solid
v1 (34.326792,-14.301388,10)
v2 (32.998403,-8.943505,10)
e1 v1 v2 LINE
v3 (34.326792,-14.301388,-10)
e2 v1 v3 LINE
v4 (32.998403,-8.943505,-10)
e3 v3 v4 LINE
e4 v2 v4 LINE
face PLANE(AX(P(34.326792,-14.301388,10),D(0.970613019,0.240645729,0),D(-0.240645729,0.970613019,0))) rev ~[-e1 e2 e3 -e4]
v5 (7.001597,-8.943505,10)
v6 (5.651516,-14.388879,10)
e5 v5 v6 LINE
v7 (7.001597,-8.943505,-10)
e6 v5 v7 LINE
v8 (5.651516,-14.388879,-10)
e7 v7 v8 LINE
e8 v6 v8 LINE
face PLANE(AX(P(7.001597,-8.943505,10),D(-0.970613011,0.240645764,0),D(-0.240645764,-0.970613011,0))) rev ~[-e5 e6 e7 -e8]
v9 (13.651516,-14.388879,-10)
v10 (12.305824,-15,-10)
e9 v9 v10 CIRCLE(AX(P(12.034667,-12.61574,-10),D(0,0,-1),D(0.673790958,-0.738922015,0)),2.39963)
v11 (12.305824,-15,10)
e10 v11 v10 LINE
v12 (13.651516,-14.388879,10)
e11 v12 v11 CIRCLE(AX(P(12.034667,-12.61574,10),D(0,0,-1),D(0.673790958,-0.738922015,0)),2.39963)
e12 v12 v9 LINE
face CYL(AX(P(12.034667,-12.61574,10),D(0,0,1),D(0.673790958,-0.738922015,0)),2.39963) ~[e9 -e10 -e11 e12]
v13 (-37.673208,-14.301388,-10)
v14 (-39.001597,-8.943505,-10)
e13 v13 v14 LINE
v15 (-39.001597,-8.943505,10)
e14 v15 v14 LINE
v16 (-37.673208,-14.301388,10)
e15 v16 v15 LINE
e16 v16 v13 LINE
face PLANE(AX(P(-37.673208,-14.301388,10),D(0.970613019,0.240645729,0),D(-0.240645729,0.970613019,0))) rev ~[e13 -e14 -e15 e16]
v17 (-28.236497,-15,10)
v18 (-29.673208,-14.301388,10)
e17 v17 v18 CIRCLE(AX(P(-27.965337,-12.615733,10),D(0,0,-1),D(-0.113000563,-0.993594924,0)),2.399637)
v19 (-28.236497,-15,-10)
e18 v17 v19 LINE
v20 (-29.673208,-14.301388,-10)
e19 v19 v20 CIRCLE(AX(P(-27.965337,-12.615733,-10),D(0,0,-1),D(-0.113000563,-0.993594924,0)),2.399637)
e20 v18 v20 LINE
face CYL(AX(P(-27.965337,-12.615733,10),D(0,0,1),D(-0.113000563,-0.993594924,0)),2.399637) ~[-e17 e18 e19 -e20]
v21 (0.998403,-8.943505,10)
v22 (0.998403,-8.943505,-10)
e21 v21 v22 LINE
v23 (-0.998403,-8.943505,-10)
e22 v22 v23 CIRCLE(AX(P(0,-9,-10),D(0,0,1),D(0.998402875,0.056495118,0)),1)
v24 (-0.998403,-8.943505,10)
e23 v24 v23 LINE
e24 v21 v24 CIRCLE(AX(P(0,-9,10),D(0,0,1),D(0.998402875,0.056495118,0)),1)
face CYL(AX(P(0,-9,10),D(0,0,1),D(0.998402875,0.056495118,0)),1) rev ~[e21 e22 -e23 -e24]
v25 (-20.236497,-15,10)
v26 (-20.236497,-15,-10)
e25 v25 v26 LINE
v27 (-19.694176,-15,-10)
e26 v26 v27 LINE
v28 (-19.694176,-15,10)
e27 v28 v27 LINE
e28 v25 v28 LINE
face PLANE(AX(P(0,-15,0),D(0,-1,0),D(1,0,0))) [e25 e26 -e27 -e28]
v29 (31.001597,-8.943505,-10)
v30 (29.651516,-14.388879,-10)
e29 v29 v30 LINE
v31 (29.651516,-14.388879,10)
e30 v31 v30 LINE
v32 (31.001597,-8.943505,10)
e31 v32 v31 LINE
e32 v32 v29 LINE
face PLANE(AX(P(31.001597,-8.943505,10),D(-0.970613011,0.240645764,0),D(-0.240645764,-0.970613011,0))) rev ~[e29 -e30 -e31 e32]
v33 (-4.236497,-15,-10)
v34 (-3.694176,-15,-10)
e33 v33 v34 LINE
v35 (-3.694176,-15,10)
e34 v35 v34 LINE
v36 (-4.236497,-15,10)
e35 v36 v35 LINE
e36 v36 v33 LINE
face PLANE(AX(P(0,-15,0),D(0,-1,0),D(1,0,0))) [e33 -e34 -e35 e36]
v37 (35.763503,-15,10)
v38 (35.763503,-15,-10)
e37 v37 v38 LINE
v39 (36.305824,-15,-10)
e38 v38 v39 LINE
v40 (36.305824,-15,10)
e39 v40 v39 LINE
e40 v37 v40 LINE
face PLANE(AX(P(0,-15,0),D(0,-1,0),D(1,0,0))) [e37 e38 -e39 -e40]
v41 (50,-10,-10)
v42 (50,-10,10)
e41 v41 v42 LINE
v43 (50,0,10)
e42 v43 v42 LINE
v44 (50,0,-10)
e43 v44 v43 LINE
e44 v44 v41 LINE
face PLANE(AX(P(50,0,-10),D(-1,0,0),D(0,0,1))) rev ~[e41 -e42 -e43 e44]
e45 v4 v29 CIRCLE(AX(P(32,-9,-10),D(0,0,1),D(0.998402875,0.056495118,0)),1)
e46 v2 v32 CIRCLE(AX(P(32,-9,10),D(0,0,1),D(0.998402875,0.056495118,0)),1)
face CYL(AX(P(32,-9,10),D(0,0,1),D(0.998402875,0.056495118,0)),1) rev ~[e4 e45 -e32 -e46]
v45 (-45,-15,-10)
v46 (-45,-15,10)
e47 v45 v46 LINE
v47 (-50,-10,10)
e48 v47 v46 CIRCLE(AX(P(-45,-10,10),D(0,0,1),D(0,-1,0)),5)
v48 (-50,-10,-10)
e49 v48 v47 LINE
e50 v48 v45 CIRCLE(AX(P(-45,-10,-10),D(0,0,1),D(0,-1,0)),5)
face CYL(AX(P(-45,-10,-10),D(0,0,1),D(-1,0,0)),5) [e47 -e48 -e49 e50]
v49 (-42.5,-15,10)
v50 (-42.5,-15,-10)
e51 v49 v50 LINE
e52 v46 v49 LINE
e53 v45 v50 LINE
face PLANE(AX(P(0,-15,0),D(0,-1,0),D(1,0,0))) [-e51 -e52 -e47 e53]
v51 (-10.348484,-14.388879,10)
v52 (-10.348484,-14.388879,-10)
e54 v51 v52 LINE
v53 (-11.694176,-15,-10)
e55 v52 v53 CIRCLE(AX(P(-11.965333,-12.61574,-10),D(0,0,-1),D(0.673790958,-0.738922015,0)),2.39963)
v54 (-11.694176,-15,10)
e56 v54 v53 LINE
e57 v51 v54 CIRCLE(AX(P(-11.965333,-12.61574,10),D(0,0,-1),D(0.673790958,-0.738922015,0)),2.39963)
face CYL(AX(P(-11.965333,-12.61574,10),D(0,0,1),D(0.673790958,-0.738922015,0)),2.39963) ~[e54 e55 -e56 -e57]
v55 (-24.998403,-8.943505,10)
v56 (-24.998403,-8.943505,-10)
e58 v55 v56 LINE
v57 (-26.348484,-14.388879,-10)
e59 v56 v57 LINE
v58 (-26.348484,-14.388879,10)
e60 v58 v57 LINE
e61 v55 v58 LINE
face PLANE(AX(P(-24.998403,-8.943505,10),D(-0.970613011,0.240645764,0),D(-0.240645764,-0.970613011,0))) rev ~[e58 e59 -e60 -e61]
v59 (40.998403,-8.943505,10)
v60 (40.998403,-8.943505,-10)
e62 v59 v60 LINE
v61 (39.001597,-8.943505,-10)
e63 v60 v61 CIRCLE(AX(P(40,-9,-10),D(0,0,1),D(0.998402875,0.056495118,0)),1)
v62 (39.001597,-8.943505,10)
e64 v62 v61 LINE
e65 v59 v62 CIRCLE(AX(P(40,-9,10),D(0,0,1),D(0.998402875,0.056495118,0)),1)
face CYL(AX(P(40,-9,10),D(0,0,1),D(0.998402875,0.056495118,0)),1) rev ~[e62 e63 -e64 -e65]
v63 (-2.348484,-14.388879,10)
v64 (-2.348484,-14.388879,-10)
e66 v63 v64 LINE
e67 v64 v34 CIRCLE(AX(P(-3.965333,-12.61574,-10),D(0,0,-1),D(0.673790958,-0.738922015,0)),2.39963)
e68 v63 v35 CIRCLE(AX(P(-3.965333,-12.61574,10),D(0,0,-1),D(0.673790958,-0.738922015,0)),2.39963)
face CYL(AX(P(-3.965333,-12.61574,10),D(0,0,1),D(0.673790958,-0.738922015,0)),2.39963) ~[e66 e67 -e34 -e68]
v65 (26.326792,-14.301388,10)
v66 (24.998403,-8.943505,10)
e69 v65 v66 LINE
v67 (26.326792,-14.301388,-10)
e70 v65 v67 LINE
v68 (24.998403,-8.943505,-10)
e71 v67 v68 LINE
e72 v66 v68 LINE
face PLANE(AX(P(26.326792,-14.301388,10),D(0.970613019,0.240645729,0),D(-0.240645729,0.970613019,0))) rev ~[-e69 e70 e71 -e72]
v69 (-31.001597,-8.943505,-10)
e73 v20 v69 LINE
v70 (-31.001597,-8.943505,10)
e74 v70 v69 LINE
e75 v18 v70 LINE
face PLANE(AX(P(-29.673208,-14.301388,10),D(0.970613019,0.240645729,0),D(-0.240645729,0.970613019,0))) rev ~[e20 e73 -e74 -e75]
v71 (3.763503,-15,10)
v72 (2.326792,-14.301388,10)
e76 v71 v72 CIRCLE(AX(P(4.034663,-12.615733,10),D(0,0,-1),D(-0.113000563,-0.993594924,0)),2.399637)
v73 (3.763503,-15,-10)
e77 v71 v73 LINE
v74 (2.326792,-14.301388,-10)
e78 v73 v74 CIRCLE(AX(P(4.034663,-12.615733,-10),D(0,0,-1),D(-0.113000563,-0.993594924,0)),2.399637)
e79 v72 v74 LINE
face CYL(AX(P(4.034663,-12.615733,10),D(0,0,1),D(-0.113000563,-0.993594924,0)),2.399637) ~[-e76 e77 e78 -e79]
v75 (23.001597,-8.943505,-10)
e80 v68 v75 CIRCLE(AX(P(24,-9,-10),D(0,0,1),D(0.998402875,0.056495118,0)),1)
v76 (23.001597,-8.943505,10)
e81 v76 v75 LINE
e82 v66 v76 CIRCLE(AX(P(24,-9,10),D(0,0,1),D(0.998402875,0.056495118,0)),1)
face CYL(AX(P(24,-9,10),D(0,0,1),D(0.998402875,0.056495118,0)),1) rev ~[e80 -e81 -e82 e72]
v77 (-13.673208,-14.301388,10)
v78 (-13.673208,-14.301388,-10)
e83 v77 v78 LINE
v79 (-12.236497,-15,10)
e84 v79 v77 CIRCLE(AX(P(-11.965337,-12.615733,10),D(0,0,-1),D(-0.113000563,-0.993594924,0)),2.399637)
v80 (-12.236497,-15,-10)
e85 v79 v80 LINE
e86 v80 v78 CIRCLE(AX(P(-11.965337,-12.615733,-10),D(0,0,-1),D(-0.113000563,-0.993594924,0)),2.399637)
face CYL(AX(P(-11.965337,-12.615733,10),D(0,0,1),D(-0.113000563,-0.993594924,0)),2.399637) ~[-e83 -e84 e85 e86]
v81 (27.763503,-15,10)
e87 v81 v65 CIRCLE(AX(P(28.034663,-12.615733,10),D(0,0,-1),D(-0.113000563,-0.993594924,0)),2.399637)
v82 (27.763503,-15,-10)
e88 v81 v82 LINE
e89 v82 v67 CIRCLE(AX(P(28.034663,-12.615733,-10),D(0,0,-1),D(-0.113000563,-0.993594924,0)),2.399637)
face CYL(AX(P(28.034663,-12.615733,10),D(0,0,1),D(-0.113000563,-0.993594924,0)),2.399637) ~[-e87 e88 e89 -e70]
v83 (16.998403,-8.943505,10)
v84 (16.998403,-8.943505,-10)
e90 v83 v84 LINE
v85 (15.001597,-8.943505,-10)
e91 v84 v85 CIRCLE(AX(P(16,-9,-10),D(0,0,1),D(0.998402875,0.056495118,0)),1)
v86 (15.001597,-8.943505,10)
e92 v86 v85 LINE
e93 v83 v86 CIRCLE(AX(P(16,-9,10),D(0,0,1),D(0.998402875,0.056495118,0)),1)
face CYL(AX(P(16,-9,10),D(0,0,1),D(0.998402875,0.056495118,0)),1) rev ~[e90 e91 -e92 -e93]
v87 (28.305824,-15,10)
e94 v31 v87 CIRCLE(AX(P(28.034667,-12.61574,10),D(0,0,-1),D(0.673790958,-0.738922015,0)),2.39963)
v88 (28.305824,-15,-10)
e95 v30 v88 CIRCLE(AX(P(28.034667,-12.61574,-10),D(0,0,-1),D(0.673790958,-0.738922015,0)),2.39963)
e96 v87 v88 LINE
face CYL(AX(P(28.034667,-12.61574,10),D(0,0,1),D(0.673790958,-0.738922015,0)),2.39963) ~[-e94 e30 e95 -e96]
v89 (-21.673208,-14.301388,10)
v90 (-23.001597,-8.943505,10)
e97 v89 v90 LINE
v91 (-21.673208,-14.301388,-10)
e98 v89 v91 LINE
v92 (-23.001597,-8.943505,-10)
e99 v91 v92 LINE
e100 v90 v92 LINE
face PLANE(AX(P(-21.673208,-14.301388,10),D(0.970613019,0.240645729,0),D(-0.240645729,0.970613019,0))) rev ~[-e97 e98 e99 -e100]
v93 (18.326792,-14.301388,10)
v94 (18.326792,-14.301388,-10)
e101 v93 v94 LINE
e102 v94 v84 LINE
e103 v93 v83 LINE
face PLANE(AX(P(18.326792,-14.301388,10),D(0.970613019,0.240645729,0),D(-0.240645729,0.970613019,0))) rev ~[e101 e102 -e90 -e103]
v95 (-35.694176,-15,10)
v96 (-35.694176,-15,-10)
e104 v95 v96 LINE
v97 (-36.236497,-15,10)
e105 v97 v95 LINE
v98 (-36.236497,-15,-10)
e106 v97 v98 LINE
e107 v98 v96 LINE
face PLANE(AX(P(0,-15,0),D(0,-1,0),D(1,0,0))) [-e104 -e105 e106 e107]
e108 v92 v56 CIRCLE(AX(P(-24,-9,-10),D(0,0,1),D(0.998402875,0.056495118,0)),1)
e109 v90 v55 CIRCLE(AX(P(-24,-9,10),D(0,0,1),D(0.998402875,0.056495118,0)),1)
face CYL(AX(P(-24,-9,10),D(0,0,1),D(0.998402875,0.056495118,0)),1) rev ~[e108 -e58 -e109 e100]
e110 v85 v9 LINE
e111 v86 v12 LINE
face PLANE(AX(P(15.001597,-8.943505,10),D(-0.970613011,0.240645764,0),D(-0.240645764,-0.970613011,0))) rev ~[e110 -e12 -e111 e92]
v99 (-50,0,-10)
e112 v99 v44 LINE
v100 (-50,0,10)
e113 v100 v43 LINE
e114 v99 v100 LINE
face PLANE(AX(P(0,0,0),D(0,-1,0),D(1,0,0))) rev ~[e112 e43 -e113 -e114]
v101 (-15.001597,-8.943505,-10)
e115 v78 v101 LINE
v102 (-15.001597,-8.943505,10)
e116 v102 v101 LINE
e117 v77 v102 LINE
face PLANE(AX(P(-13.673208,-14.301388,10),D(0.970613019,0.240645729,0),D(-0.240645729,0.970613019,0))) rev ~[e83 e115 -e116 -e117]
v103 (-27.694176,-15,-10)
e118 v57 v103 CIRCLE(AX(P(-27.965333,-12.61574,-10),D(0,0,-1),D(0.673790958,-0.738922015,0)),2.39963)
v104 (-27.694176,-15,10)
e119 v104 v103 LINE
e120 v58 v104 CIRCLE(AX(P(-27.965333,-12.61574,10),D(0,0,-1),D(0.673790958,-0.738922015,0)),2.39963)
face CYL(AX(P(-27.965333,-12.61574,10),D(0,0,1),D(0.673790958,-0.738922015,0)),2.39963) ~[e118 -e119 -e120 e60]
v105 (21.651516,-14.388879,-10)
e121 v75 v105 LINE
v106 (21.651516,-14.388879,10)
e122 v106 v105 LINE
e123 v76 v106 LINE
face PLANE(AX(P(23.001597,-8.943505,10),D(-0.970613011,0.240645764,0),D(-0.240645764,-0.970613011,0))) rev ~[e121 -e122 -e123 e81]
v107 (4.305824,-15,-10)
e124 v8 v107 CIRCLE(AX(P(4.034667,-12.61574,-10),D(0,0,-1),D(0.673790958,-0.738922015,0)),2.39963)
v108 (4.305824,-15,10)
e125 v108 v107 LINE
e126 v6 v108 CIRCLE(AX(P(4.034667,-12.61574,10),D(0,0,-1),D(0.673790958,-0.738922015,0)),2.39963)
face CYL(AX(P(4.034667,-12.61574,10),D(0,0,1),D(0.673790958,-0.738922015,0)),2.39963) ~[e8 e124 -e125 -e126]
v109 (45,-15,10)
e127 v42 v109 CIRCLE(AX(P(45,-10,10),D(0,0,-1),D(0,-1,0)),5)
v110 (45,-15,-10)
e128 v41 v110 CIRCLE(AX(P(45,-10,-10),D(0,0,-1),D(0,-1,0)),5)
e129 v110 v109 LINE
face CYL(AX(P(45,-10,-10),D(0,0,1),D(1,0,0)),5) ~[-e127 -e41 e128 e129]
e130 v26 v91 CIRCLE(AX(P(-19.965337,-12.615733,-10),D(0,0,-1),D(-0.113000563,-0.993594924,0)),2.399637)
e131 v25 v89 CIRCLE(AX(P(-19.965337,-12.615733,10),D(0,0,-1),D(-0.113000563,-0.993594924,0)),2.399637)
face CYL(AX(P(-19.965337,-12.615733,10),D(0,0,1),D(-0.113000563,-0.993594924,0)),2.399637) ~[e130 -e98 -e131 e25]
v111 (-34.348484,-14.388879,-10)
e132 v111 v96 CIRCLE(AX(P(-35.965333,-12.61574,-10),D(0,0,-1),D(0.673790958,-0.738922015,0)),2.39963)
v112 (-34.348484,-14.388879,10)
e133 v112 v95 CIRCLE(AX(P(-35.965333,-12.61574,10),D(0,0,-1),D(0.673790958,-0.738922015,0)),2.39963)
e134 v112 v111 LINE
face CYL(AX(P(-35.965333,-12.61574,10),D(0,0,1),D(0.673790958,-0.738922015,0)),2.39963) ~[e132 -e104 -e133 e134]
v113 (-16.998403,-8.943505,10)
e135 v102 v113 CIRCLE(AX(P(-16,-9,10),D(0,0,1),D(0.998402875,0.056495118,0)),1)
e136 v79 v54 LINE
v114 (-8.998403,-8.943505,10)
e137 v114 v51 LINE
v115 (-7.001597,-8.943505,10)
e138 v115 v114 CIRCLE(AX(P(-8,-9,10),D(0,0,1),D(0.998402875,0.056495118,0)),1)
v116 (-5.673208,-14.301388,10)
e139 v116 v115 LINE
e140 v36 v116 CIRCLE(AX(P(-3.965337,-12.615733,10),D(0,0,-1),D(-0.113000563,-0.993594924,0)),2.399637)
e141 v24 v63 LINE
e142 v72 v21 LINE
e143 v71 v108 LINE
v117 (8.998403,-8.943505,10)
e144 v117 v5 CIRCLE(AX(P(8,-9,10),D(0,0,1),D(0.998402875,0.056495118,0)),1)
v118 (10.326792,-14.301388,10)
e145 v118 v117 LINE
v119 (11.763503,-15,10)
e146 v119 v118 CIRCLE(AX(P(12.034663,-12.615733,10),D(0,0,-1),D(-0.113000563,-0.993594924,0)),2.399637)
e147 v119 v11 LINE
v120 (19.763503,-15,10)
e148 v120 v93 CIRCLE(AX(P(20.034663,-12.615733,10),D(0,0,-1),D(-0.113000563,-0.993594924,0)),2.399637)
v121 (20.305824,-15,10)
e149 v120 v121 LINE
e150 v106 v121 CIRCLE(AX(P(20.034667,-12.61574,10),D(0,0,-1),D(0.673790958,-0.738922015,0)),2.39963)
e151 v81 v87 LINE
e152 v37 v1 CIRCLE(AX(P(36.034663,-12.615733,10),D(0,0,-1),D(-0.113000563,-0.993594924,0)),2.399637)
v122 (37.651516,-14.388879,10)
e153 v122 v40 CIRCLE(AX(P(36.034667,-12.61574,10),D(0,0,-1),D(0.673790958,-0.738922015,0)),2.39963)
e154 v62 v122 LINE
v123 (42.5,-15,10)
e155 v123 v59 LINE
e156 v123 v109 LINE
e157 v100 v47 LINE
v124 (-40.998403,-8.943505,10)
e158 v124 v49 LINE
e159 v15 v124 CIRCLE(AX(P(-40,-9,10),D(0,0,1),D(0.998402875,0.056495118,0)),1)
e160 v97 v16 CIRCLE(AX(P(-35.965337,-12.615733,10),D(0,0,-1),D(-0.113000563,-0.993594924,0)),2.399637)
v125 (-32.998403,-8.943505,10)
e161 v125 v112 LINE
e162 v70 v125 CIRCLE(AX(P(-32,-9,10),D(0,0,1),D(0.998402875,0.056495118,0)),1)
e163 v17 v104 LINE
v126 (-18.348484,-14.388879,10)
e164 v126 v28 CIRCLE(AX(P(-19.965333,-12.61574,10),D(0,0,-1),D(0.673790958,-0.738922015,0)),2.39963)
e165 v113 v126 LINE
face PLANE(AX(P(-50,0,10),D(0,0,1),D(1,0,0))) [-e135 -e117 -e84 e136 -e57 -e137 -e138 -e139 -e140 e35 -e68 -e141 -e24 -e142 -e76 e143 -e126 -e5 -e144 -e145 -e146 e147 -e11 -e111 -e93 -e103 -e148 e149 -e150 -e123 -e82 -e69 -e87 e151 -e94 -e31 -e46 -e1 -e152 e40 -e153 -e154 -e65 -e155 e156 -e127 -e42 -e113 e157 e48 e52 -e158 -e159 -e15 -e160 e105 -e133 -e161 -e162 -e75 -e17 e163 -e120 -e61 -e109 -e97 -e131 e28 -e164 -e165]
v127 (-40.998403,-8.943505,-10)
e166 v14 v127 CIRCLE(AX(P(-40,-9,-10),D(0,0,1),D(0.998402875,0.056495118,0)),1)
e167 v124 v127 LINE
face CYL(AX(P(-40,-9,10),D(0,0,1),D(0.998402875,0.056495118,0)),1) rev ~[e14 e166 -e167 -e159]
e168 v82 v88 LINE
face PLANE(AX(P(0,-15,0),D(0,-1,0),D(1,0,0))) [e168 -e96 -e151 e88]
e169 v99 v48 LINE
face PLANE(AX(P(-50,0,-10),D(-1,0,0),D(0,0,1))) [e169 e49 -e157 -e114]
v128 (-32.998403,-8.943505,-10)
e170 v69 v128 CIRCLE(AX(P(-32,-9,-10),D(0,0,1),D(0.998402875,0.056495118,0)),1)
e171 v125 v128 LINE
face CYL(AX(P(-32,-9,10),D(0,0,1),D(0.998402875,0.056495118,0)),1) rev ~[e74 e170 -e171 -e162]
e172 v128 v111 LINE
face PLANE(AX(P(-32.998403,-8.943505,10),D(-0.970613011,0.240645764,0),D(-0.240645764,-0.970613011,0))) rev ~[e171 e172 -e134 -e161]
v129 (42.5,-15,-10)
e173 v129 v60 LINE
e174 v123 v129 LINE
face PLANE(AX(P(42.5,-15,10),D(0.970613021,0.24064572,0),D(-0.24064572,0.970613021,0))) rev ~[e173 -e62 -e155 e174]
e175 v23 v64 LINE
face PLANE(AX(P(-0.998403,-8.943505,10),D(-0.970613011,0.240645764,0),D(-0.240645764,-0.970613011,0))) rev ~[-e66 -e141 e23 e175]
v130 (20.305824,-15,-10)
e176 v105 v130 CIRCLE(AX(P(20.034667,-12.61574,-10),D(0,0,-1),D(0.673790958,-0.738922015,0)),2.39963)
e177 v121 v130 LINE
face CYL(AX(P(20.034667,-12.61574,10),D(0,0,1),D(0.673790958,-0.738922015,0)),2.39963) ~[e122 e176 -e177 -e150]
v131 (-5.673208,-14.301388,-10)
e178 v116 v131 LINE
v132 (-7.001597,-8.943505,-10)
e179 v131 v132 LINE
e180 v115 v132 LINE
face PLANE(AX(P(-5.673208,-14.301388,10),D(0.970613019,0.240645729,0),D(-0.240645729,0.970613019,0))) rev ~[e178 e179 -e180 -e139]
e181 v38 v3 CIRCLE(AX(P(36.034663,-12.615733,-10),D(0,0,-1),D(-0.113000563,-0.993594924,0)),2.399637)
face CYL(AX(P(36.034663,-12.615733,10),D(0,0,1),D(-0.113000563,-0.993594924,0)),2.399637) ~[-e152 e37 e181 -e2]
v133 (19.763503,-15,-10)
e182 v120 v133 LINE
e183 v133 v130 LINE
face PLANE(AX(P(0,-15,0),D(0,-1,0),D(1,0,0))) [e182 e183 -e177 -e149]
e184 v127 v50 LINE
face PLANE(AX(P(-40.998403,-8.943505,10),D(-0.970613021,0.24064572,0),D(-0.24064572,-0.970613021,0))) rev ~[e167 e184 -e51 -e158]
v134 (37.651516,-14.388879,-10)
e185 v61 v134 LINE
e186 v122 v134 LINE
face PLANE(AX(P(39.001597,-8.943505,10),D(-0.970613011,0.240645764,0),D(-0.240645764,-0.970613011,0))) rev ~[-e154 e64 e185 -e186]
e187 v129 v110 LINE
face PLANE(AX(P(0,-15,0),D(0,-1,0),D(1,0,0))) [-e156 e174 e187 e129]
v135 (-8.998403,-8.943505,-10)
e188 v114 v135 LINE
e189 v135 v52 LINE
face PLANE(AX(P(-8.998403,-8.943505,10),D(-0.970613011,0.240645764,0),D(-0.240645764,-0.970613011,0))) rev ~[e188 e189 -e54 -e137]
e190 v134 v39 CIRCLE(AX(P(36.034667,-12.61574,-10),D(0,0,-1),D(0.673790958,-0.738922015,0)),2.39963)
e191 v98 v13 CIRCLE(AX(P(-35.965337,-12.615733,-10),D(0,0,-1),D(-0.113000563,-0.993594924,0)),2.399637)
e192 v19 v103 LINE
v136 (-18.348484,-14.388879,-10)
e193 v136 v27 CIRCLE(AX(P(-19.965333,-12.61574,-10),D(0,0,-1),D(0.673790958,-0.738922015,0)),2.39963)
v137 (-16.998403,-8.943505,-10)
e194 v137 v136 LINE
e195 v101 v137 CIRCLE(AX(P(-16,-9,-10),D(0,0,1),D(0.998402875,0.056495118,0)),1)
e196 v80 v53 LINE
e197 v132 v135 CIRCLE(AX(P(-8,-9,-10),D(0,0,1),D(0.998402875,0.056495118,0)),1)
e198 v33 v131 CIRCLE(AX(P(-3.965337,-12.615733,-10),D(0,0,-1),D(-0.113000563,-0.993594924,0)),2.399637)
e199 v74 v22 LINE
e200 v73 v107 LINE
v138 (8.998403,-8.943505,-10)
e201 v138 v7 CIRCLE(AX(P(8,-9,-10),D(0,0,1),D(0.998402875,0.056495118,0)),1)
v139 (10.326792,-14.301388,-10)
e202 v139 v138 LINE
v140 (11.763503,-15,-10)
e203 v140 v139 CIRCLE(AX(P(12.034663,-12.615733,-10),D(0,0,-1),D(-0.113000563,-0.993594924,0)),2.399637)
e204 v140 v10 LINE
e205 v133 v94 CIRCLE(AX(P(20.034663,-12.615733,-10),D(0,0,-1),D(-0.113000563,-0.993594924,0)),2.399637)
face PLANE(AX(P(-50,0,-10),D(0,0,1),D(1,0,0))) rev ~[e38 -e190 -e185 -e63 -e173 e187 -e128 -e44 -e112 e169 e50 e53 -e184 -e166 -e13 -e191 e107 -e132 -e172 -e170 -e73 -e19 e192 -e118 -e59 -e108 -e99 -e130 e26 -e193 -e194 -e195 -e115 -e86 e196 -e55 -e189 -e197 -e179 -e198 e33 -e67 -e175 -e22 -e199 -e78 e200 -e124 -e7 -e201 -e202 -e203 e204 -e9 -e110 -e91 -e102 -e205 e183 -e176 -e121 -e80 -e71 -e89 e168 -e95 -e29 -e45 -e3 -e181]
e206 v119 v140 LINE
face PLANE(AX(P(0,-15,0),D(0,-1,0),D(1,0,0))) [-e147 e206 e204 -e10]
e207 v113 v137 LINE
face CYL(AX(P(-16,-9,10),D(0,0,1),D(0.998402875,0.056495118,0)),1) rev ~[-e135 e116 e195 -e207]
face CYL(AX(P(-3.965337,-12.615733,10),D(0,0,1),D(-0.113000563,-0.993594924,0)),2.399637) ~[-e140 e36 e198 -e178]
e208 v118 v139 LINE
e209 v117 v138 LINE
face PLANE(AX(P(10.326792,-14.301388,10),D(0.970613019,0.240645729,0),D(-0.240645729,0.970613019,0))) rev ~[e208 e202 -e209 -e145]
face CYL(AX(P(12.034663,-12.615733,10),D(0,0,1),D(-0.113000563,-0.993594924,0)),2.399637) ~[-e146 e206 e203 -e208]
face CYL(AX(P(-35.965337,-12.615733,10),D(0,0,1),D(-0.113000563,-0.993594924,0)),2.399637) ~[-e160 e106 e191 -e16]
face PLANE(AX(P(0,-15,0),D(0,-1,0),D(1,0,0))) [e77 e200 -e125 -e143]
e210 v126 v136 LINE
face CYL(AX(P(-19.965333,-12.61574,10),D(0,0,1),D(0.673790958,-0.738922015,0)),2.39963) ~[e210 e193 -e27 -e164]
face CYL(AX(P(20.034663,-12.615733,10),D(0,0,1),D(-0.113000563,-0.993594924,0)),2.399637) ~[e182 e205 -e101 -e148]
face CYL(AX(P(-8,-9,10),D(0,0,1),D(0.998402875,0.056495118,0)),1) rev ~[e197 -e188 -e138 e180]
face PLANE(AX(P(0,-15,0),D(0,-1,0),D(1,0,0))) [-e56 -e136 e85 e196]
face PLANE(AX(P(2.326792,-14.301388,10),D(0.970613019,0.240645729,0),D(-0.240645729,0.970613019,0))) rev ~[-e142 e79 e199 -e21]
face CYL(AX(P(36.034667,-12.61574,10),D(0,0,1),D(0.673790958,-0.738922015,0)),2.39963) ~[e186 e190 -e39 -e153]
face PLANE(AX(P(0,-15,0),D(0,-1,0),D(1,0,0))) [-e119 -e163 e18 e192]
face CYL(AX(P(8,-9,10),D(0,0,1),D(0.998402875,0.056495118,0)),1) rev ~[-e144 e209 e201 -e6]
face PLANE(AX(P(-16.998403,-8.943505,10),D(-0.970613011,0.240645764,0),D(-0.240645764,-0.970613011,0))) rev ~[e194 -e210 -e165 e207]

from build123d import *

# Parameters (mm, degrees)
F0_W     = 100
F0_H     = 20
F1_DEPTH = 15
F3_DEPTH = 20
F4_R     = 5


with BuildPart() as f1:
    # F0 (on Front) → F1 (new body)
    with BuildSketch(Plane.XZ):
        Rectangle(F0_W, F0_H)
    extrude(amount=F1_DEPTH)

    # F2 (on face) → F3 (cut, through all)
    with BuildSketch(Plane.XY.offset(10)):
        with BuildLine():
            Line((-37.5, -15), (-37.673208, -14.301388))
            Line((-37.673208, -14.301388), (-39.001597, -8.943505))
            ThreePointArc((-39.001597, -8.943505), (-40, -8), (-40.998403, -8.943505))
            Line((-40.998403, -8.943505), (-42.5, -15))
            Line((-42.5, -15), (-37.5, -15))
        make_face()
        with BuildLine():
            Line((-29.5, -15), (-29.673208, -14.301388))
            Line((-29.673208, -14.301388), (-31.001597, -8.943505))
            ThreePointArc((-31.001597, -8.943505), (-32, -8), (-32.998403, -8.943505))
            Line((-32.998403, -8.943505), (-34.348484, -14.388879))
            Line((-34.348484, -14.388879), (-34.5, -15))
            Line((-34.5, -15), (-29.5, -15))
        make_face()
        with BuildLine():
            Line((-21.5, -15), (-21.673208, -14.301388))
            Line((-21.673208, -14.301388), (-23.001597, -8.943505))
            ThreePointArc((-23.001597, -8.943505), (-24, -8), (-24.998403, -8.943505))
            Line((-24.998403, -8.943505), (-26.348484, -14.388879))
            Line((-26.348484, -14.388879), (-26.5, -15))
            Line((-26.5, -15), (-21.5, -15))
        make_face()
        with BuildLine():
            Line((-13.5, -15), (-13.673208, -14.301388))
            Line((-13.673208, -14.301388), (-15.001597, -8.943505))
            ThreePointArc((-15.001597, -8.943505), (-16, -8), (-16.998403, -8.943505))
            Line((-16.998403, -8.943505), (-18.348484, -14.388879))
            Line((-18.348484, -14.388879), (-18.5, -15))
            Line((-18.5, -15), (-13.5, -15))
        make_face()
        with BuildLine():
            Line((-5.5, -15), (-5.673208, -14.301388))
            Line((-5.673208, -14.301388), (-7.001597, -8.943505))
            ThreePointArc((-7.001597, -8.943505), (-8, -8), (-8.998403, -8.943505))
            Line((-8.998403, -8.943505), (-10.348484, -14.388879))
            Line((-10.348484, -14.388879), (-10.5, -15))
            Line((-10.5, -15), (-5.5, -15))
        make_face()
        with BuildLine():
            Line((2.326792, -14.301388), (0.998403, -8.943505))
            ThreePointArc((0.998403, -8.943505), (0, -8), (-0.998403, -8.943505))
            Line((-0.998403, -8.943505), (-2.348484, -14.388879))
            Line((-2.348484, -14.388879), (-2.5, -15))
            Line((-2.5, -15), (2.5, -15))
            Line((2.5, -15), (2.326792, -14.301388))
        make_face()
        with BuildLine():
            Line((7.001597, -8.943505), (5.651516, -14.388879))
            Line((5.651516, -14.388879), (5.5, -15))
            Line((5.5, -15), (10.5, -15))
            Line((10.5, -15), (10.326792, -14.301388))
            Line((10.326792, -14.301388), (8.998403, -8.943505))
            ThreePointArc((8.998403, -8.943505), (8, -8), (7.001597, -8.943505))
        make_face()
        with BuildLine():
            Line((15.001597, -8.943505), (13.651516, -14.388879))
            Line((13.651516, -14.388879), (13.5, -15))
            Line((13.5, -15), (18.5, -15))
            Line((18.5, -15), (18.326792, -14.301388))
            Line((18.326792, -14.301388), (16.998403, -8.943505))
            ThreePointArc((16.998403, -8.943505), (16, -8), (15.001597, -8.943505))
        make_face()
        with BuildLine():
            Line((23.001597, -8.943505), (21.651516, -14.388879))
            Line((21.651516, -14.388879), (21.5, -15))
            Line((21.5, -15), (26.5, -15))
            Line((26.5, -15), (26.326792, -14.301388))
            Line((26.326792, -14.301388), (24.998403, -8.943505))
            ThreePointArc((24.998403, -8.943505), (24, -8), (23.001597, -8.943505))
        make_face()
        with BuildLine():
            Line((31.001597, -8.943505), (29.651516, -14.388879))
            Line((29.651516, -14.388879), (29.5, -15))
            Line((29.5, -15), (34.5, -15))
            Line((34.5, -15), (34.326792, -14.301388))
            Line((34.326792, -14.301388), (32.998403, -8.943505))
            ThreePointArc((32.998403, -8.943505), (32, -8), (31.001597, -8.943505))
        make_face()
        with BuildLine():
            Line((39.001597, -8.943505), (37.651516, -14.388879))
            Line((37.651516, -14.388879), (37.5, -15))
            Line((37.5, -15), (42.5, -15))
            Line((42.5, -15), (40.998403, -8.943505))
            ThreePointArc((40.998403, -8.943505), (40, -8), (39.001597, -8.943505))
        make_face()
        with BuildLine():
            ThreePointArc((13.651516, -14.388879), (13.026891, -14.800623), (12.305824, -15))
            Line((12.305824, -15), (13.5, -15))
            Line((13.5, -15), (13.651516, -14.388879))
        make_face()
        with BuildLine():
            Line((10.326792, -14.301388), (10.5, -15))
            Line((10.5, -15), (11.763503, -15))
            ThreePointArc((11.763503, -15), (10.985304, -14.773765), (10.326792, -14.301388))
        make_face()
        with BuildLine():
            Line((18.326792, -14.301388), (18.5, -15))
            Line((18.5, -15), (19.763503, -15))
            ThreePointArc((19.763503, -15), (18.985304, -14.773765), (18.326792, -14.301388))
        make_face()
        with BuildLine():
            ThreePointArc((21.651516, -14.388879), (21.026891, -14.800623), (20.305824, -15))
            Line((20.305824, -15), (21.5, -15))
            Line((21.5, -15), (21.651516, -14.388879))
        make_face()
        with BuildLine():
            Line((26.326792, -14.301388), (26.5, -15))
            Line((26.5, -15), (27.763503, -15))
            ThreePointArc((27.763503, -15), (26.985304, -14.773765), (26.326792, -14.301388))
        make_face()
        with BuildLine():
            ThreePointArc((29.651516, -14.388879), (29.026891, -14.800623), (28.305824, -15))
            Line((28.305824, -15), (29.5, -15))
            Line((29.5, -15), (29.651516, -14.388879))
        make_face()
        with BuildLine():
            Line((34.326792, -14.301388), (34.5, -15))
            Line((34.5, -15), (35.763503, -15))
            ThreePointArc((35.763503, -15), (34.985304, -14.773765), (34.326792, -14.301388))
        make_face()
        with BuildLine():
            ThreePointArc((37.651516, -14.388879), (37.026891, -14.800623), (36.305824, -15))
            Line((36.305824, -15), (37.5, -15))
            Line((37.5, -15), (37.651516, -14.388879))
        make_face()
        with BuildLine():
            ThreePointArc((5.651516, -14.388879), (5.026891, -14.800623), (4.305824, -15))
            Line((4.305824, -15), (5.5, -15))
            Line((5.5, -15), (5.651516, -14.388879))
        make_face()
        with BuildLine():
            ThreePointArc((3.763503, -15), (2.985304, -14.773765), (2.326792, -14.301388))
            Line((2.326792, -14.301388), (2.5, -15))
            Line((2.5, -15), (3.763503, -15))
        make_face()
        with BuildLine():
            Line((-2.5, -15), (-2.348484, -14.388879))
            ThreePointArc((-2.348484, -14.388879), (-2.973109, -14.800623), (-3.694176, -15))
            Line((-3.694176, -15), (-2.5, -15))
        make_face()
        with BuildLine():
            Line((-5.5, -15), (-4.236497, -15))
            ThreePointArc((-4.236497, -15), (-5.014696, -14.773765), (-5.673208, -14.301388))
            Line((-5.673208, -14.301388), (-5.5, -15))
        make_face()
        with BuildLine():
            Line((-11.694176, -15), (-10.5, -15))
            Line((-10.5, -15), (-10.348484, -14.388879))
            ThreePointArc((-10.348484, -14.388879), (-10.973109, -14.800623), (-11.694176, -15))
        make_face()
        with BuildLine():
            Line((-13.5, -15), (-12.236497, -15))
            ThreePointArc((-12.236497, -15), (-13.014696, -14.773765), (-13.673208, -14.301388))
            Line((-13.673208, -14.301388), (-13.5, -15))
        make_face()
        with BuildLine():
            Line((-19.694176, -15), (-18.5, -15))
            Line((-18.5, -15), (-18.348484, -14.388879))
            ThreePointArc((-18.348484, -14.388879), (-18.973109, -14.800623), (-19.694176, -15))
        make_face()
        with BuildLine():
            Line((-21.5, -15), (-20.236497, -15))
            ThreePointArc((-20.236497, -15), (-21.014696, -14.773765), (-21.673208, -14.301388))
            Line((-21.673208, -14.301388), (-21.5, -15))
        make_face()
        with BuildLine():
            Line((-27.694176, -15), (-26.5, -15))
            Line((-26.5, -15), (-26.348484, -14.388879))
            ThreePointArc((-26.348484, -14.388879), (-26.973109, -14.800623), (-27.694176, -15))
        make_face()
        with BuildLine():
            Line((-29.5, -15), (-28.236497, -15))
            ThreePointArc((-28.236497, -15), (-29.014696, -14.773765), (-29.673208, -14.301388))
            Line((-29.673208, -14.301388), (-29.5, -15))
        make_face()
        with BuildLine():
            Line((-35.694176, -15), (-34.5, -15))
            Line((-34.5, -15), (-34.348484, -14.388879))
            ThreePointArc((-34.348484, -14.388879), (-34.973109, -14.800623), (-35.694176, -15))
        make_face()
        with BuildLine():
            Line((-37.5, -15), (-36.236497, -15))
            ThreePointArc((-36.236497, -15), (-37.014696, -14.773765), (-37.673208, -14.301388))
            Line((-37.673208, -14.301388), (-37.5, -15))
        make_face()
    extrude(amount=-F3_DEPTH, mode=Mode.SUBTRACT)

    # F4
    f4_edges = [f1.edges().sort_by_distance(p)[0] for p in [
        (-50, -15, 0),
        (50, -15, 0),
    ]]
    fillet(f4_edges, radius=F4_R)


solid = f1.part
